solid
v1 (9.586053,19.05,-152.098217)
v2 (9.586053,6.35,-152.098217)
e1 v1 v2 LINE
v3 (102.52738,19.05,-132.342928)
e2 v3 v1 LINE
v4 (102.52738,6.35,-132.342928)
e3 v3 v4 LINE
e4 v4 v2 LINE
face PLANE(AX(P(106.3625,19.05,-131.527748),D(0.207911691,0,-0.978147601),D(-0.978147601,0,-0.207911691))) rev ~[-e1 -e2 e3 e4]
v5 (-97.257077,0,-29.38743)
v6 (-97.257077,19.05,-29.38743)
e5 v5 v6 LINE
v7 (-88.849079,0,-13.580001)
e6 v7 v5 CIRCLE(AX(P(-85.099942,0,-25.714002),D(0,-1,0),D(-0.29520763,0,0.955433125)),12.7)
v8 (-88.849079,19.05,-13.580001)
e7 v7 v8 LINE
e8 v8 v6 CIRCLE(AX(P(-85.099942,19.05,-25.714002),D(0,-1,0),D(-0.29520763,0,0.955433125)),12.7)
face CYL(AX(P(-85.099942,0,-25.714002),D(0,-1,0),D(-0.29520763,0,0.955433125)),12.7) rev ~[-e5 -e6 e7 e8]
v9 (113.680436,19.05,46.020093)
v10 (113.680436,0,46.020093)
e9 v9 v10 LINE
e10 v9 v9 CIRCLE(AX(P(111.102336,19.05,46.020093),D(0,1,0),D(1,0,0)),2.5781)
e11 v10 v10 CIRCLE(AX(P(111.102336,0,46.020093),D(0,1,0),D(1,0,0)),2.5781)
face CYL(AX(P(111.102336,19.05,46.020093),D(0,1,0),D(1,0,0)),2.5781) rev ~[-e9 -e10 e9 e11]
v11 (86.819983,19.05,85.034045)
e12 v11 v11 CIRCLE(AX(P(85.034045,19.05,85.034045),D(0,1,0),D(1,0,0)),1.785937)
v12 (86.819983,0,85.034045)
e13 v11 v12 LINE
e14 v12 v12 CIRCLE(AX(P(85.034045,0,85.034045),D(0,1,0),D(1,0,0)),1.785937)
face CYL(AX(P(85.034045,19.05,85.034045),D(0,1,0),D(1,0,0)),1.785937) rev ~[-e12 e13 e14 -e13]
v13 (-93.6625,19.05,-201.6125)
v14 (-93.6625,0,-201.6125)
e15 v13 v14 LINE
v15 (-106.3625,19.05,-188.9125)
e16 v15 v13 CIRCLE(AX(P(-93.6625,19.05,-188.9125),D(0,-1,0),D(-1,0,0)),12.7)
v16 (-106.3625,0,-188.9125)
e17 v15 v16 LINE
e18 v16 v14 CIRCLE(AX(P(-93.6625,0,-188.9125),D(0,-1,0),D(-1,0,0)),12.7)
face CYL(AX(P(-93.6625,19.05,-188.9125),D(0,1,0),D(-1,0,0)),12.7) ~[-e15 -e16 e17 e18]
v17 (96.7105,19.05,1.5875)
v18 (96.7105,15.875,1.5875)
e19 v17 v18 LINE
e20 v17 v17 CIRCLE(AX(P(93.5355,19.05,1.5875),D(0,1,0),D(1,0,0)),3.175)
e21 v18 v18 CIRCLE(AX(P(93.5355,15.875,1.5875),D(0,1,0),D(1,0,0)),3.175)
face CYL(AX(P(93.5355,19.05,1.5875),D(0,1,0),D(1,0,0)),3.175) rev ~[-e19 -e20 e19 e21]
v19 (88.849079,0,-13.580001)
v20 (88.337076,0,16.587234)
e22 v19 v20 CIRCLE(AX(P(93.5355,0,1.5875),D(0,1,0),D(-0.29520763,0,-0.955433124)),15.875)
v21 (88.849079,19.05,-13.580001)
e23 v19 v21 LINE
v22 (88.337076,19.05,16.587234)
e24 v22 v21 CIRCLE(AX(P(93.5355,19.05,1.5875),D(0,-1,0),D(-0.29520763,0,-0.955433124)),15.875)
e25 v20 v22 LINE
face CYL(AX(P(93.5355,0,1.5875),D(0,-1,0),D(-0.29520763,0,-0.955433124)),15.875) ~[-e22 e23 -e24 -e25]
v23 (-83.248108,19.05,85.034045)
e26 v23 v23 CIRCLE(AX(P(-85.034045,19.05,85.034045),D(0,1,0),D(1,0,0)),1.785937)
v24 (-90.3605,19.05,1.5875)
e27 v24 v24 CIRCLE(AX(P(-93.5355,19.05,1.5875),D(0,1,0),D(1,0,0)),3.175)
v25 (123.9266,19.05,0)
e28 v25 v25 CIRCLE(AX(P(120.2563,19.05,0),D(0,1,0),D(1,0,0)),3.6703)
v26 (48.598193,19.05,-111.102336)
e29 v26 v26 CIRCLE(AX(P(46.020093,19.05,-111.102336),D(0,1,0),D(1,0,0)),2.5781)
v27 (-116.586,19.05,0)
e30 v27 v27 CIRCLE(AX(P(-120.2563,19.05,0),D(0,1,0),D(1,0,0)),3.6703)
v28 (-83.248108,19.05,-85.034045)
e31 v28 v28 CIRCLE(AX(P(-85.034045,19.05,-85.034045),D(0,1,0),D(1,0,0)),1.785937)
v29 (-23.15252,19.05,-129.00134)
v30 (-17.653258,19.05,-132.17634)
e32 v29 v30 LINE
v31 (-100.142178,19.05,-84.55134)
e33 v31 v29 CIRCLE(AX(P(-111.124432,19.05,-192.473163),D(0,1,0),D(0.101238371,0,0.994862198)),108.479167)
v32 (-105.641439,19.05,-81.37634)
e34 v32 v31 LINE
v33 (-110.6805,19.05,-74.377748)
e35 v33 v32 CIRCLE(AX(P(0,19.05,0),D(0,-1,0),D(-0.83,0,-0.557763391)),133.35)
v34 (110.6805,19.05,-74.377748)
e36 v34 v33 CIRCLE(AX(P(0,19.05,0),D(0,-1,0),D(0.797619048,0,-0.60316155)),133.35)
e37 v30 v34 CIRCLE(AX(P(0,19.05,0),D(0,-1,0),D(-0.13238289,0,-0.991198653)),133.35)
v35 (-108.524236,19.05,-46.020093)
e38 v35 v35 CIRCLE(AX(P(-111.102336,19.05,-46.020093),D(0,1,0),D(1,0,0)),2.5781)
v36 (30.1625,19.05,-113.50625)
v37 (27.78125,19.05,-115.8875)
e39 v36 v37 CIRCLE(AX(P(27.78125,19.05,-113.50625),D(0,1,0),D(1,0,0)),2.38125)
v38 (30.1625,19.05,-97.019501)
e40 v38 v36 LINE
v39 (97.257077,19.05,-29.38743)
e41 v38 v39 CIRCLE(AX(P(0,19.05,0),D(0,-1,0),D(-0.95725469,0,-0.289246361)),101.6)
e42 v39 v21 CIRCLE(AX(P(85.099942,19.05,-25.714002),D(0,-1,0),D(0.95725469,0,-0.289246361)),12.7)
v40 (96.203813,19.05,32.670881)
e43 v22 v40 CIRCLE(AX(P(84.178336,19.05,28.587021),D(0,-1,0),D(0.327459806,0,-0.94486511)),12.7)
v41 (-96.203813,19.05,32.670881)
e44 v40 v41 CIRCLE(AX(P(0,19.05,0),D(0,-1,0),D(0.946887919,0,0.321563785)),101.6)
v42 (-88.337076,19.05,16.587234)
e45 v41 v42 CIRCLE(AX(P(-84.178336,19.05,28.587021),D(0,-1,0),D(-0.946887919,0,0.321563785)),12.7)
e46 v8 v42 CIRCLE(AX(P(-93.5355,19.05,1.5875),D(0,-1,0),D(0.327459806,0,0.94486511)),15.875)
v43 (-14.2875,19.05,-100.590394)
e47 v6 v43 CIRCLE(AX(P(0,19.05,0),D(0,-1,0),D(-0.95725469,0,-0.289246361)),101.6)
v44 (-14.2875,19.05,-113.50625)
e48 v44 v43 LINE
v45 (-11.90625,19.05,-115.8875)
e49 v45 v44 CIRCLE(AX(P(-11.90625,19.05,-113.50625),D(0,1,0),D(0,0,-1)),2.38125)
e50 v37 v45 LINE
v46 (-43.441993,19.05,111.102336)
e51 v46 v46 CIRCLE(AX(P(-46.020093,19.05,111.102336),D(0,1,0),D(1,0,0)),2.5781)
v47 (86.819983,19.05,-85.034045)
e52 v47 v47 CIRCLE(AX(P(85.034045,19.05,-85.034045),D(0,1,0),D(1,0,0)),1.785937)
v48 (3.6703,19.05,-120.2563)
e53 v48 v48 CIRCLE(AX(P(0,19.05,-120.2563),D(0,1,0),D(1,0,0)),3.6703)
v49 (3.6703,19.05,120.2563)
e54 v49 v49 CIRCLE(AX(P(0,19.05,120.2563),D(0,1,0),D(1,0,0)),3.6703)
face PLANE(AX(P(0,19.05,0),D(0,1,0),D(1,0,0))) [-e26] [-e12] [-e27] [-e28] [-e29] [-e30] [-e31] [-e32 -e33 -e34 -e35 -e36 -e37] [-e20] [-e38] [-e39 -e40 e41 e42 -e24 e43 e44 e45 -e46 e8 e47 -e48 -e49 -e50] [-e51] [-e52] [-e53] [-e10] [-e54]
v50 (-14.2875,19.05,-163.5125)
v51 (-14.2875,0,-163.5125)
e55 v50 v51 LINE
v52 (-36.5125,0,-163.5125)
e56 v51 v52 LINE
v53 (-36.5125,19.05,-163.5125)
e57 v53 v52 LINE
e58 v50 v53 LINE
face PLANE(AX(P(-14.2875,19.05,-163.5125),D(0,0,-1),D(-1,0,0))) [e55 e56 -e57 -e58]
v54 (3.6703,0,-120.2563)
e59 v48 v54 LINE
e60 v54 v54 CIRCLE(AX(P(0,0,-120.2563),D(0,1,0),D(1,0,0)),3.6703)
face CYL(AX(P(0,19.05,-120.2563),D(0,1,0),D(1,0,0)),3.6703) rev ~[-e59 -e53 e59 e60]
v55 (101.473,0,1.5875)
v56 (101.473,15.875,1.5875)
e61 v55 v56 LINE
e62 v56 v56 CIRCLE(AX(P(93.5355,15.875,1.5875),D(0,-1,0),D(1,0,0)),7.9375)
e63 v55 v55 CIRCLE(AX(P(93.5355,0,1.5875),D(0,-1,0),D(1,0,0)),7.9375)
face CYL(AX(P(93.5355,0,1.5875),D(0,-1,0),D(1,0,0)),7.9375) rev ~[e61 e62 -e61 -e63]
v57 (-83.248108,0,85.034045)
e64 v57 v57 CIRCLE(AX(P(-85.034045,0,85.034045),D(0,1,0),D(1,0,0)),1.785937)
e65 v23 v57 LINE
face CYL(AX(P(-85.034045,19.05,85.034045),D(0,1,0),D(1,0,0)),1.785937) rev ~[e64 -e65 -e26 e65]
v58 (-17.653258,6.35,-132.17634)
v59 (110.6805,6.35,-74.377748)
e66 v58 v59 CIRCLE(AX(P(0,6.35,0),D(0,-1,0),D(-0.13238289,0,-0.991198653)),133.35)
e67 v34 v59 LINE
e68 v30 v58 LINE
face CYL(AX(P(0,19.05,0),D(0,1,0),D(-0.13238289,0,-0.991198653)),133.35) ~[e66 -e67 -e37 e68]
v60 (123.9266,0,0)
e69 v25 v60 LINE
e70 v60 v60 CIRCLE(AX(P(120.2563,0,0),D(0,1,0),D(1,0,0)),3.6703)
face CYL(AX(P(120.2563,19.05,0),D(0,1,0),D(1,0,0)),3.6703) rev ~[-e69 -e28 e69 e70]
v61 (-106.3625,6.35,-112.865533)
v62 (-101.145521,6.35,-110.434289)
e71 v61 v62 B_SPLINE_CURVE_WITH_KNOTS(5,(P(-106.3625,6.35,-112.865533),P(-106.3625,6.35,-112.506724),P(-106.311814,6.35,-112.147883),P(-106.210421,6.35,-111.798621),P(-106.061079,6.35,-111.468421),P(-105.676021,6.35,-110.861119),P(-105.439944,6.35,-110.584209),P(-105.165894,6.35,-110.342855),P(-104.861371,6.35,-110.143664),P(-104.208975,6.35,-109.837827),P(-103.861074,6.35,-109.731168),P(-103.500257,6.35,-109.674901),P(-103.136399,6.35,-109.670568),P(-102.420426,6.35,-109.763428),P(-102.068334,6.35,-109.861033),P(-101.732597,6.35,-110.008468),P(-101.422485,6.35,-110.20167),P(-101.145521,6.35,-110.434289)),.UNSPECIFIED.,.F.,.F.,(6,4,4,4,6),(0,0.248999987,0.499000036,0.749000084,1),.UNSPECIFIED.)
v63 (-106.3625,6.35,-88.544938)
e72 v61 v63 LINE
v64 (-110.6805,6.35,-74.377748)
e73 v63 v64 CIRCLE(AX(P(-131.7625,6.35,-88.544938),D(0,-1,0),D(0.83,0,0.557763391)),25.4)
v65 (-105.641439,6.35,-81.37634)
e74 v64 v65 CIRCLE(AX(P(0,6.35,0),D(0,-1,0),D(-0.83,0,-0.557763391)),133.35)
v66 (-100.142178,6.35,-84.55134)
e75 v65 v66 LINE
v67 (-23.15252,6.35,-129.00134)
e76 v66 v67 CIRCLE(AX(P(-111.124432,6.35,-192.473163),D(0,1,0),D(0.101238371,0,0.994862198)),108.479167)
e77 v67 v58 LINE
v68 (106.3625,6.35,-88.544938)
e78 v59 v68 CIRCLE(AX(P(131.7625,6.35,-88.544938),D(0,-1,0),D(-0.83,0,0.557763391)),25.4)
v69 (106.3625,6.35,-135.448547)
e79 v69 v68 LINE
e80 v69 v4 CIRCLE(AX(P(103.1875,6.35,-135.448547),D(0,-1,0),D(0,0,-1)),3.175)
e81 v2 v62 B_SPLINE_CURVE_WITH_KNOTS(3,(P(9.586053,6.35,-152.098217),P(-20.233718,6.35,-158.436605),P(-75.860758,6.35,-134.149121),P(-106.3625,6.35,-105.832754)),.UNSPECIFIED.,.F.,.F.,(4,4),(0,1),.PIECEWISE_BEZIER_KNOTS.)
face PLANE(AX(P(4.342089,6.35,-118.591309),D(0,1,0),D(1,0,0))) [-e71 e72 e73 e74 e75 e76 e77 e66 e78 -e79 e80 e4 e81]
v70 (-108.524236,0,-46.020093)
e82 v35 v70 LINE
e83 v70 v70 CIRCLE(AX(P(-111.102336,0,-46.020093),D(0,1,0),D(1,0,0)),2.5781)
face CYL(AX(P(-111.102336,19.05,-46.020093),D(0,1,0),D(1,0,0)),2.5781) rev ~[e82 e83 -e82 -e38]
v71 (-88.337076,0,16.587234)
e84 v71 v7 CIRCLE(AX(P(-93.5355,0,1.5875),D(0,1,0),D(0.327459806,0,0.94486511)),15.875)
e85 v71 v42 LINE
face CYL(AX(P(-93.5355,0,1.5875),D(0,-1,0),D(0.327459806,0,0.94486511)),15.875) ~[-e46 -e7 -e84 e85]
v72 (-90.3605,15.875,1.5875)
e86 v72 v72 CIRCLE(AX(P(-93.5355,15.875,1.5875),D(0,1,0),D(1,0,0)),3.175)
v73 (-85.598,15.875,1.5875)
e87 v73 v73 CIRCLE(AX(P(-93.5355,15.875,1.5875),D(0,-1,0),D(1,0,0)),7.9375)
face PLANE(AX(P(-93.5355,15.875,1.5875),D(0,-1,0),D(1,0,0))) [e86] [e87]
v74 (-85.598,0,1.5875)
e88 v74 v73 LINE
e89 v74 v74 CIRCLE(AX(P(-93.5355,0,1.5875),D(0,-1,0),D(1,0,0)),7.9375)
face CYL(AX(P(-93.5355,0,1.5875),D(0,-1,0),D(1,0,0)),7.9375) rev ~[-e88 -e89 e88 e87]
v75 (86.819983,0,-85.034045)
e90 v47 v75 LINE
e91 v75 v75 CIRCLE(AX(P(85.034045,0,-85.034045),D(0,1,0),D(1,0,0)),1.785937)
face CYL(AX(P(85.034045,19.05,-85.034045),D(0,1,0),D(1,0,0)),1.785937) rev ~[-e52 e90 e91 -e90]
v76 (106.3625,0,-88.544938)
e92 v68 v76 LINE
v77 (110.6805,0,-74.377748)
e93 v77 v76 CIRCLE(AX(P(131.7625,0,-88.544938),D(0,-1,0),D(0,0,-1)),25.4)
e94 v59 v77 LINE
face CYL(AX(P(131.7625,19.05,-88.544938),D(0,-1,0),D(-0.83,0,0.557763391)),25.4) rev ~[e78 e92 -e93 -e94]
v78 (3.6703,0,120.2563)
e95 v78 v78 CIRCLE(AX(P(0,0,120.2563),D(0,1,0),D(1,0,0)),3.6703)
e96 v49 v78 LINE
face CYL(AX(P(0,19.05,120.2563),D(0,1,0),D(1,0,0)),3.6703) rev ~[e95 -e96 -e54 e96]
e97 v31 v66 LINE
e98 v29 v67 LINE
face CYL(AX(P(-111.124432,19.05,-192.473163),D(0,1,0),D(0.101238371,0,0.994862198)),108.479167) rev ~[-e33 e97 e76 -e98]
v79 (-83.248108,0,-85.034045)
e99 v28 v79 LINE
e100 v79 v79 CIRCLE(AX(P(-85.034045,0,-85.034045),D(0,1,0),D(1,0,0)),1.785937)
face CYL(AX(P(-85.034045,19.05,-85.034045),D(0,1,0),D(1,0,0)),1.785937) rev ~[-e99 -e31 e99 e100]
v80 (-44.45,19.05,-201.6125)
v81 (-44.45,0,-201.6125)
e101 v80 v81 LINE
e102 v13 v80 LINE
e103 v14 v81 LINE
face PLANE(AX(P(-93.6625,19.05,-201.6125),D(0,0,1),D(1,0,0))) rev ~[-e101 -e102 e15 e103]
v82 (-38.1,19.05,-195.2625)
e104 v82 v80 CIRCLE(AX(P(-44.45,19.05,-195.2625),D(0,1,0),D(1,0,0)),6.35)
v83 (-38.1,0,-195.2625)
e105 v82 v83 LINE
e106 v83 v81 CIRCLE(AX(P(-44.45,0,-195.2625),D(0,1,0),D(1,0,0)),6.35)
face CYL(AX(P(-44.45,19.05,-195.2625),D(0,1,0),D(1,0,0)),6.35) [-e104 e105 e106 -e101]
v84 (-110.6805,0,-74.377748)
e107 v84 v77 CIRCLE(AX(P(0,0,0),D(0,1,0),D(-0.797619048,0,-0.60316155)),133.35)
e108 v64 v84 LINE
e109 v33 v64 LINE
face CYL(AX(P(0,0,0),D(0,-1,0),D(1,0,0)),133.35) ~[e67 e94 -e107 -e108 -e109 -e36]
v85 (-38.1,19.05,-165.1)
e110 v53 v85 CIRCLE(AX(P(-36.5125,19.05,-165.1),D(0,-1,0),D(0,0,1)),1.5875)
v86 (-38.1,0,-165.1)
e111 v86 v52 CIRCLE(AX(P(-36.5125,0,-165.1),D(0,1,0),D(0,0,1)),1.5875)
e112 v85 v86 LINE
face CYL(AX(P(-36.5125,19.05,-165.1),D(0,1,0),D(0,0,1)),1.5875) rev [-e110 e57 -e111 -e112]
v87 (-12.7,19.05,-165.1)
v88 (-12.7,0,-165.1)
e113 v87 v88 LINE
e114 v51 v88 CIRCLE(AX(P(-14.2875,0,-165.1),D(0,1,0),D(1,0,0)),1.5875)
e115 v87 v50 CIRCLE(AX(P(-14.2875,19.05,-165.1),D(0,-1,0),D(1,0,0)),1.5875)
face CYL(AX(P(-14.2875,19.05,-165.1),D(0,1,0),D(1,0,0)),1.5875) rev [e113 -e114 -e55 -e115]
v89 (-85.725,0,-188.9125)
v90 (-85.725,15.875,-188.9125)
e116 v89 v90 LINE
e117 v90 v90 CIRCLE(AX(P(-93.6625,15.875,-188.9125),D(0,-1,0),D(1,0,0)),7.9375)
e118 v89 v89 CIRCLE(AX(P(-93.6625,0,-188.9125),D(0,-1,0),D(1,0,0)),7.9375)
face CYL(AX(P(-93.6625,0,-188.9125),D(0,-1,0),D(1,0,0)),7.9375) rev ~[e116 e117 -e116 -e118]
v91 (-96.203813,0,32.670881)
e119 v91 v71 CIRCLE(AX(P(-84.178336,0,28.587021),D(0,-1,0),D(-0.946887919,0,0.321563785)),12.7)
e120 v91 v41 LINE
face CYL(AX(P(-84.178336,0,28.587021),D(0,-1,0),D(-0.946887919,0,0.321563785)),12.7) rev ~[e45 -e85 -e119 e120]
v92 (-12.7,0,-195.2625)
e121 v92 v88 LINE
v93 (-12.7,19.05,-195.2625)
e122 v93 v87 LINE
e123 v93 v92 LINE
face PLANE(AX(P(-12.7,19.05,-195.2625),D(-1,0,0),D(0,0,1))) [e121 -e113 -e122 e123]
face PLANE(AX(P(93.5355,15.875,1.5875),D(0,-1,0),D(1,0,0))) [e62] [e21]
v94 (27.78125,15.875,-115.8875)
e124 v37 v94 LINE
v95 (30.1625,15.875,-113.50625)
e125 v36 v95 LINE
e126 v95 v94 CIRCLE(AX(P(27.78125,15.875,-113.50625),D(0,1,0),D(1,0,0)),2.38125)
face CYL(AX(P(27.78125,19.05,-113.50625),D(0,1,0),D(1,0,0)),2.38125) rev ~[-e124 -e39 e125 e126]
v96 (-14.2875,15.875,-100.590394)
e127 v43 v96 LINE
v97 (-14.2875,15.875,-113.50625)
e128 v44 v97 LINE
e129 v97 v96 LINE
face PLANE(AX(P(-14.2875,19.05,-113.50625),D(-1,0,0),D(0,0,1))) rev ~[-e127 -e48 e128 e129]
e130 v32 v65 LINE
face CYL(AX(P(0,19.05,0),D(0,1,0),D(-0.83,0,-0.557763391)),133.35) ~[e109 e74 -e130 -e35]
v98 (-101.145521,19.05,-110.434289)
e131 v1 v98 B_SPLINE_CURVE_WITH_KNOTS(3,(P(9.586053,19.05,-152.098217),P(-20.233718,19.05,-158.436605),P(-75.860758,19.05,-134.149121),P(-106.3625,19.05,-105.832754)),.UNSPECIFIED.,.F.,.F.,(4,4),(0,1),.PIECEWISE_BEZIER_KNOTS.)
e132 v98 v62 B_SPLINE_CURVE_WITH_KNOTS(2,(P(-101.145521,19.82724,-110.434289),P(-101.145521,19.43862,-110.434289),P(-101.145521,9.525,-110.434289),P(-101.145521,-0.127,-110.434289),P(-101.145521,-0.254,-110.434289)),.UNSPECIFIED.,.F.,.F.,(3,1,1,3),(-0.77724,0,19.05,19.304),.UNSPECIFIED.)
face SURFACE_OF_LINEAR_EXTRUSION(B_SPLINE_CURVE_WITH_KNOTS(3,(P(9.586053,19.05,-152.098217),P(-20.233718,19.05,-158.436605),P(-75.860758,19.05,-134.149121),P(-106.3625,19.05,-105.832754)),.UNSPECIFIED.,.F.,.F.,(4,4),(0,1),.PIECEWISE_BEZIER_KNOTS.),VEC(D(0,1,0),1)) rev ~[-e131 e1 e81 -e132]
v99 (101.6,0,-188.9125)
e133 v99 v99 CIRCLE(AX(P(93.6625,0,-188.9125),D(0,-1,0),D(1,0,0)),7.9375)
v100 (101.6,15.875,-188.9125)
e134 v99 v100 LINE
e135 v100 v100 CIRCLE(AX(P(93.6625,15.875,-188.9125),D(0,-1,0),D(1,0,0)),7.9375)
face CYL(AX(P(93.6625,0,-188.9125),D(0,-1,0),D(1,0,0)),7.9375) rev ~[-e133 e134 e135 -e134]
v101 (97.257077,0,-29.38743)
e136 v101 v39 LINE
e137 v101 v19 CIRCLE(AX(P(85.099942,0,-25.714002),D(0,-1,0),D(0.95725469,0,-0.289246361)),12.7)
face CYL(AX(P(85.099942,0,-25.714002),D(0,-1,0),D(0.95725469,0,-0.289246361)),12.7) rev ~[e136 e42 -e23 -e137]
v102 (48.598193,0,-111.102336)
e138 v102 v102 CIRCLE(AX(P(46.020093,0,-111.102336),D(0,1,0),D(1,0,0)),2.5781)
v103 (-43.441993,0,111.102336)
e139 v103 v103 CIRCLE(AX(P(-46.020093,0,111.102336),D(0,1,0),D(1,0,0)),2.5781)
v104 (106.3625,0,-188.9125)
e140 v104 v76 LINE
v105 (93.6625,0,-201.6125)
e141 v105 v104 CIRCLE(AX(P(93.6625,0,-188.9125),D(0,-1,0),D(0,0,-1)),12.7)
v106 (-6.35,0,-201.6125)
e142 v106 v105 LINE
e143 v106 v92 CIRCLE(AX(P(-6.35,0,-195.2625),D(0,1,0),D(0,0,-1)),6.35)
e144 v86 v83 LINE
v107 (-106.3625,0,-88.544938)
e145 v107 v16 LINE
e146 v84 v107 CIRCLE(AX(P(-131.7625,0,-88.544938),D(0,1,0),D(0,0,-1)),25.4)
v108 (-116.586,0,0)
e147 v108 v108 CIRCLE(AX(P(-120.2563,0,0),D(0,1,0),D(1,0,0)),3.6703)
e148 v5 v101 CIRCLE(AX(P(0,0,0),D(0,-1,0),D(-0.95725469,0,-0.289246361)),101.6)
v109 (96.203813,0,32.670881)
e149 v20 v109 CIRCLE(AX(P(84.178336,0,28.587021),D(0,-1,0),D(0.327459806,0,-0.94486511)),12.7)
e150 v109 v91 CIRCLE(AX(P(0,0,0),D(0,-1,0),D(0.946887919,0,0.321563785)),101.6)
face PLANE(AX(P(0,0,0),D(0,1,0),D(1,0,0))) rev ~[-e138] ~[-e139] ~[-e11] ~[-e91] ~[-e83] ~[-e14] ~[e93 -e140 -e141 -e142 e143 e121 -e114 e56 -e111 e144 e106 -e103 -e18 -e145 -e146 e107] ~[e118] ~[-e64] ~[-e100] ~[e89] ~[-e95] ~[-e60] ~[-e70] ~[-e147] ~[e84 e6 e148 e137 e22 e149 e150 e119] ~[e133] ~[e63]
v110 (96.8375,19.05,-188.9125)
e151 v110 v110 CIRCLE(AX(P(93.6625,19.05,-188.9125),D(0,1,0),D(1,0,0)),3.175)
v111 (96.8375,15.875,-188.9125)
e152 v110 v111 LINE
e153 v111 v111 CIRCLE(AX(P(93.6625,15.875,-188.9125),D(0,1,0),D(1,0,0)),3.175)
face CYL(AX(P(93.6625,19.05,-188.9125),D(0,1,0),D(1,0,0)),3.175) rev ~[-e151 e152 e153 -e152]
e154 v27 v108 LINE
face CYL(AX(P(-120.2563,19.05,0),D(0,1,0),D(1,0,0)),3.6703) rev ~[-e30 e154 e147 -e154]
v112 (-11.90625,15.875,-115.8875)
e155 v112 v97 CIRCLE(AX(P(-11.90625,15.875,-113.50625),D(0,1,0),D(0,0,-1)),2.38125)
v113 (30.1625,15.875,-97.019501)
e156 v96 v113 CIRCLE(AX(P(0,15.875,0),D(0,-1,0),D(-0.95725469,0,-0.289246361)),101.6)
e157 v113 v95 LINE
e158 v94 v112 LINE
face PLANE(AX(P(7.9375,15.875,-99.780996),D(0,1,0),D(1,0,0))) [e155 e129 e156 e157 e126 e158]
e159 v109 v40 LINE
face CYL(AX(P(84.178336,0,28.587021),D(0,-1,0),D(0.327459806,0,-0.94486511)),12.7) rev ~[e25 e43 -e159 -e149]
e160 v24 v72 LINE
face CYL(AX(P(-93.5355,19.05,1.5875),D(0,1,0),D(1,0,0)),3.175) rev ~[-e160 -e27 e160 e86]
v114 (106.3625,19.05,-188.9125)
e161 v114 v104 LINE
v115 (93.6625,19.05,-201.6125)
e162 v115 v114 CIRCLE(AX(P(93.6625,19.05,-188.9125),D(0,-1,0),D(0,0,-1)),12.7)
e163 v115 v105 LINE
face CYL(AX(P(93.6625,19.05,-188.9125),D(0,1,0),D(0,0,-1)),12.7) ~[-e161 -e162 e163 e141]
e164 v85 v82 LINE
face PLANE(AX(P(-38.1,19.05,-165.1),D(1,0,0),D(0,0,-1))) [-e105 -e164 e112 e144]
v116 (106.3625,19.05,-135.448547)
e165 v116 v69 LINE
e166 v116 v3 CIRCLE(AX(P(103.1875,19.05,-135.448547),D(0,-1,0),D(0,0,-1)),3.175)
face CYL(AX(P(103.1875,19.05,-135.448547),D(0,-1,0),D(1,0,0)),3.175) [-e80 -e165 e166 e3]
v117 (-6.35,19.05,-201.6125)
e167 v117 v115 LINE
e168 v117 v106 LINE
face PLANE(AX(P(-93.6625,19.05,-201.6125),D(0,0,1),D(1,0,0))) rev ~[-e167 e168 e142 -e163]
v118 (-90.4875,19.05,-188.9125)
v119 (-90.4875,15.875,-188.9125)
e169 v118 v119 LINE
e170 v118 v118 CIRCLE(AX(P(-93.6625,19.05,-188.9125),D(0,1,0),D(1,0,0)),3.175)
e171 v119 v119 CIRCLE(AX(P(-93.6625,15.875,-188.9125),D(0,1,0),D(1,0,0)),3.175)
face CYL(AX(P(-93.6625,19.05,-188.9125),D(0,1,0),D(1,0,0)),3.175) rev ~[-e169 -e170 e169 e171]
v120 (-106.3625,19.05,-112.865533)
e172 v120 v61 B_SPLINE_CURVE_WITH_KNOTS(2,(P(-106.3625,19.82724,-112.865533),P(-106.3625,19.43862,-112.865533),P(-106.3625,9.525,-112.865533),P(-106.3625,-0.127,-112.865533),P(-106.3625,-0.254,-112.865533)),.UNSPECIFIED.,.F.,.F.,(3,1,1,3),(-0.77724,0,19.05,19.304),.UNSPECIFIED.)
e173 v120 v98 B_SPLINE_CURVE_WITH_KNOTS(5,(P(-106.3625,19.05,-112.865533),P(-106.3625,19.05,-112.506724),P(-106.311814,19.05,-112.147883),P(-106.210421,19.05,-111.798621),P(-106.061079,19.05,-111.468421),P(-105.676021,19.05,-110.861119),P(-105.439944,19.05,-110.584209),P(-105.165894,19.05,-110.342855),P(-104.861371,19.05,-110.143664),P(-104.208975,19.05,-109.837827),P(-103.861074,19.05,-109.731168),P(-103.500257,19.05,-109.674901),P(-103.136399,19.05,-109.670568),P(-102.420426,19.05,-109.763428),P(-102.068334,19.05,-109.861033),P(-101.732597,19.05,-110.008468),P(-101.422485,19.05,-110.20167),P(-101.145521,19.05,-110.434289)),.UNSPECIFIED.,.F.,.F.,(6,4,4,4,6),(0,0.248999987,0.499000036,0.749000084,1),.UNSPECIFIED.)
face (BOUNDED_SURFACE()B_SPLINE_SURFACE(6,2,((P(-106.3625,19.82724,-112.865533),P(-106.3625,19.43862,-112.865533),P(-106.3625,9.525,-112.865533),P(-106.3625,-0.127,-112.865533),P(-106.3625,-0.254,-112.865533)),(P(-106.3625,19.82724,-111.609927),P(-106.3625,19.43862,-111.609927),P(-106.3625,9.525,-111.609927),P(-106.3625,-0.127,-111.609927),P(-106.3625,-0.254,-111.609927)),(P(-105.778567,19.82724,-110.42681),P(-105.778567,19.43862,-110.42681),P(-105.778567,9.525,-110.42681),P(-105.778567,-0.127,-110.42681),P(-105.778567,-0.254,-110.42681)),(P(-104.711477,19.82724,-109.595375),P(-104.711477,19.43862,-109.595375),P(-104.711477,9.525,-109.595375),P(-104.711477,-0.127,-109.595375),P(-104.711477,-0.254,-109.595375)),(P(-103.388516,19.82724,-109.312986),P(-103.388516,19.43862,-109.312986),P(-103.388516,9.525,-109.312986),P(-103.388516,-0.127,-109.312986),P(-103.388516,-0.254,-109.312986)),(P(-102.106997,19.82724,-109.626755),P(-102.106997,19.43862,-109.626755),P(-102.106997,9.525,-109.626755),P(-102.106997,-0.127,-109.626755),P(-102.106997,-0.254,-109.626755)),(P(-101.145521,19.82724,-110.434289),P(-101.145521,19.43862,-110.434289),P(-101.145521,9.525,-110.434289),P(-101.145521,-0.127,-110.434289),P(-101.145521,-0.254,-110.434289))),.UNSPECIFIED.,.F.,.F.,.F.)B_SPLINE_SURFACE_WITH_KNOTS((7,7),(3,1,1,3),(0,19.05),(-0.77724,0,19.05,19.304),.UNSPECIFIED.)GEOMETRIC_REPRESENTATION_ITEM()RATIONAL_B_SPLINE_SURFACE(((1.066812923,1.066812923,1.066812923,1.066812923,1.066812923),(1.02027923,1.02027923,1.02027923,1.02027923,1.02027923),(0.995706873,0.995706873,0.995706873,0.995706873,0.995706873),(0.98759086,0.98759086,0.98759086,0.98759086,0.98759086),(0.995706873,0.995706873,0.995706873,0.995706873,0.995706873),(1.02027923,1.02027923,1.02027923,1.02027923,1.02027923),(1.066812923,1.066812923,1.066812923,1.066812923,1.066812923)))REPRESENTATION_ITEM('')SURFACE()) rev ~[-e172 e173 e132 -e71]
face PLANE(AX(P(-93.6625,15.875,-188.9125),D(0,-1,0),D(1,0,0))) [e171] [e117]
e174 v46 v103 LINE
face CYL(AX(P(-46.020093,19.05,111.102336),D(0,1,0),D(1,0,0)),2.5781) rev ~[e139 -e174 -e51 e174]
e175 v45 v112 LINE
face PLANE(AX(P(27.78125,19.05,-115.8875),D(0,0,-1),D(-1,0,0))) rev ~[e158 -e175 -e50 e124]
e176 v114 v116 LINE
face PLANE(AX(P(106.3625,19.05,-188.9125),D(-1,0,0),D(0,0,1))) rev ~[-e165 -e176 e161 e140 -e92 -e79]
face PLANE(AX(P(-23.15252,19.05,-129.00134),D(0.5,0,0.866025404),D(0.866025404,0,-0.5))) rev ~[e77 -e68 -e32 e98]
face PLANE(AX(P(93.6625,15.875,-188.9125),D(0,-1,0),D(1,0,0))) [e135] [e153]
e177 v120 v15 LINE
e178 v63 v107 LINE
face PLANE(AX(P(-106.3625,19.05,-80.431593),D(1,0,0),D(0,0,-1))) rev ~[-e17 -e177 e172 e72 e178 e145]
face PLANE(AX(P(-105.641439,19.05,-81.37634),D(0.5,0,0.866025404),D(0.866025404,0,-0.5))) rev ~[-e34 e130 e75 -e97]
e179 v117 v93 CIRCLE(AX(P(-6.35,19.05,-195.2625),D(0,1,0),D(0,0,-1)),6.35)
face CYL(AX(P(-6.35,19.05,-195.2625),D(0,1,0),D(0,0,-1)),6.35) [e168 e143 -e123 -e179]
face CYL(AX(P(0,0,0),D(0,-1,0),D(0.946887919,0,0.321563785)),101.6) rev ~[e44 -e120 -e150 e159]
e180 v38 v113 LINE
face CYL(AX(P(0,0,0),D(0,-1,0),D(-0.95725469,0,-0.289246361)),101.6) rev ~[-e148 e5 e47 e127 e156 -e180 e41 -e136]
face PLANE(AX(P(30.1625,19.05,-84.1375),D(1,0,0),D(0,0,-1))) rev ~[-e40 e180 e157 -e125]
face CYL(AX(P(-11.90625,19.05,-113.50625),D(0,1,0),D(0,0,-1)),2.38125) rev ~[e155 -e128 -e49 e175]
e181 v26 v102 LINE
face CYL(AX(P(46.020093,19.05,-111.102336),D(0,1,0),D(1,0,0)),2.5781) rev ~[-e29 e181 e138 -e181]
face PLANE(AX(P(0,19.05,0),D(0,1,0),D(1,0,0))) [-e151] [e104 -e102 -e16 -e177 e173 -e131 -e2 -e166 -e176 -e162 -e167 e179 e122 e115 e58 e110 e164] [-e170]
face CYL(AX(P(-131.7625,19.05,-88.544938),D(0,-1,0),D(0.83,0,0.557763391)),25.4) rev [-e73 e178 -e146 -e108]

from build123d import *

# Parameters (mm, degrees)
SKETCH1_R           = 133.35
BOSS_EXTRUDE1_DEPTH = 19.05
SKETCH2_R           = 3.6703
SKETCH2_R_2         = 2.5781
SKETCH2_R_3         = 1.7859375
CUT_EXTRUDE1_DEPTH  = 20.05
BOSS_EXTRUDE2_DEPTH = 19.05
FILLET1_R           = 25.4
SKETCH4_R           = 3.175
CUT_EXTRUDE2_DEPTH  = 20.05
SKETCH5_R           = 7.9375
CUT_EXTRUDE3_DEPTH  = 15.875
CUT_EXTRUDE4_DEPTH  = 20.05
CUT_EXTRUDE5_DEPTH  = 12.7
FILLET2_R           = 3.175
CUT_EXTRUDE6_DEPTH  = 3.175


with BuildPart() as part:
    # Sketch1 → Boss-Extrude1 (new body)
    with BuildSketch(Plane(origin=(0, 0, 0), x_dir=(1, 0, 0), z_dir=(0, 1, 0))):
        Circle(SKETCH1_R)
    extrude(amount=BOSS_EXTRUDE1_DEPTH)

    # Sketch2 → Cut-Extrude1 (cut, through all)
    with BuildSketch(Plane(origin=(0, 19.05, 0), x_dir=(1, 0, 0), z_dir=(0, 1, 0))):
        with Locations((-120.2563, 0)):
            Circle(SKETCH2_R)
        with Locations((-111.10233558, 46.02009338)):
            Circle(SKETCH2_R_2)
        with Locations((120.2563, 0)):
            Circle(SKETCH2_R)
        with Locations((0, -120.2563)):
            Circle(SKETCH2_R)
        with Locations((0, 120.2563)):
            Circle(SKETCH2_R)
        with Locations((111.10233558, -46.02009338)):
            Circle(SKETCH2_R_2)
        with Locations((-46.02009338, -111.10233558)):
            Circle(SKETCH2_R_2)
        with Locations((46.02009338, 111.10233558)):
            Circle(SKETCH2_R_2)
        with Locations((-85.03404521, -85.03404521)):
            Circle(SKETCH2_R_3)
        with Locations((85.03404521, 85.03404521)):
            Circle(SKETCH2_R_3)
        with Locations((-85.03404521, 85.03404521)):
            Circle(SKETCH2_R_3)
        with Locations((85.03404521, -85.03404521)):
            Circle(SKETCH2_R_3)
    extrude(amount=-CUT_EXTRUDE1_DEPTH, mode=Mode.SUBTRACT)

    # Sketch3 → Boss-Extrude2 (add)
    with BuildSketch(Plane(origin=(0, 19.05, 0), x_dir=(1, 0, 0), z_dir=(0, 1, 0))):
        with BuildLine():
            Line((-106.3625, 80.431592635), (-106.3625, 188.9125))
            ThreePointArc((-106.3625, 188.9125), (-102.642756121, 197.892756121), (-93.6625, 201.6125))
            Line((-93.6625, 201.6125), (93.6625, 201.6125))
            ThreePointArc((93.6625, 201.6125), (102.642756121, 197.892756121), (106.3625, 188.9125))
            Line((106.3625, 188.9125), (106.3625, 80.431592635))
            ThreePointArc((106.3625, 80.431592635), (0, 133.35), (-106.3625, 80.431592635))
        make_face()
    extrude(amount=-BOSS_EXTRUDE2_DEPTH)

    # Fillet1
    fillet1_edges = [part.edges().sort_by_distance(p)[0] for p in [
        (106.3625, 9.525, -80.431592635),
        (-106.3625, 9.525, -80.431592635),
    ]]
    fillet(fillet1_edges, radius=FILLET1_R)

    # Sketch4 → Cut-Extrude2 (cut, through all)
    with BuildSketch(Plane(origin=(0, 19.05, 0), x_dir=(1, 0, 0), z_dir=(0, 1, 0))):
        with Locations((-93.6625, 188.9125)):
            Circle(SKETCH4_R)
        with Locations((93.6625, 188.9125)):
            Circle(SKETCH4_R)
        with Locations((93.5355, -1.5875)):
            Circle(SKETCH4_R)
        with Locations((-93.5355, -1.5875)):
            Circle(SKETCH4_R)
        with BuildLine():
            Line((-38.1, 165.1), (-38.1, 195.2625))
            ThreePointArc((-38.1, 195.2625), (-39.959871939, 199.752628061), (-44.45, 201.6125))
            Line((-44.45, 201.6125), (-6.35, 201.6125))
            ThreePointArc((-6.35, 201.6125), (-10.840128061, 199.752628061), (-12.7, 195.2625))
            Line((-12.7, 195.2625), (-12.7, 165.1))
            ThreePointArc((-12.7, 165.1), (-13.164967985, 163.977467985), (-14.2875, 163.5125))
            Line((-14.2875, 163.5125), (-36.5125, 163.5125))
            ThreePointArc((-36.5125, 163.5125), (-37.635032015, 163.977467985), (-38.1, 165.1))
        make_face()
    extrude(amount=-CUT_EXTRUDE2_DEPTH, mode=Mode.SUBTRACT)

    # Sketch5 → Cut-Extrude3 (cut)
    with BuildSketch(Plane.XZ):
        with Locations((-93.5355, 1.5875)):
            Circle(SKETCH5_R)
        with Locations((-93.6625, -188.9125)):
            Circle(SKETCH5_R)
        with Locations((93.6625, -188.9125)):
            Circle(SKETCH5_R)
        with Locations((93.5355, 1.5875)):
            Circle(SKETCH5_R)
    extrude(amount=-CUT_EXTRUDE3_DEPTH, mode=Mode.SUBTRACT)

    # Sketch6 → Cut-Extrude4 (cut, through all)
    with BuildSketch(Plane.XZ):
        with BuildLine():
            ThreePointArc((-97.25707655, -29.387430322), (0, -101.6), (97.25707655, -29.387430322))
            ThreePointArc((97.25707655, -29.387430322), (96.312482934, -19.750032603), (88.849078878, -13.580000851))
            ThreePointArc((88.849078878, -13.580000851), (77.662785938, 1.318105668), (88.337075578, 16.587233615))
            ThreePointArc((88.337075578, 16.587233615), (95.586803849, 23.006979086), (96.203812617, 32.67088058))
            ThreePointArc((96.203812617, 32.67088058), (0, 101.6), (-96.203812617, 32.67088058))
            ThreePointArc((-96.203812617, 32.67088058), (-95.586803849, 23.006979086), (-88.337075578, 16.587233615))
            ThreePointArc((-88.337075578, 16.587233615), (-77.662785938, 1.318105668), (-88.849078878, -13.580000851))
            ThreePointArc((-88.849078878, -13.580000851), (-96.312482934, -19.750032603), (-97.25707655, -29.387430322))
        make_face()
    extrude(amount=-CUT_EXTRUDE4_DEPTH, mode=Mode.SUBTRACT)

    # Sketch7 → Cut-Extrude5 (cut)
    with BuildSketch(Plane(origin=(0, 19.05, 0), x_dir=(1, 0, 0), z_dir=(0, 1, 0))):
        with BuildLine():
            Line((106.3625, 131.527748149), (9.586053414, 152.098216886))
            add(Edge.make_bspline(
                [(9.586053414, 152.098216886), (-20.233717631, 158.436604889), (-75.860757578, 134.149121206), (-106.3625, 105.832753729)],
                knots=[0, 0, 0, 0, 1, 1, 1, 1], degree=3))
            Line((-106.3625, 105.832753729), (-110.6805, 74.377748149))
            ThreePointArc((-110.6805, 74.377748149), (-108.217560682, 77.917790395), (-105.641439401, 81.376340427))
            Line((-105.641439401, 81.376340427), (-100.142178087, 84.551340427))
            ThreePointArc((-100.142178087, 84.551340427), (-56.884848889, 98.527448456), (-23.15251969, 129.001340427))
            Line((-23.15251969, 129.001340427), (-17.653258376, 132.176340427))
            ThreePointArc((-17.653258376, 132.176340427), (54.760261489, 121.58756623), (110.6805, 74.377748149))
            Line((110.6805, 74.377748149), (106.3625, 131.527748149))
        make_face()
    extrude(amount=-CUT_EXTRUDE5_DEPTH, mode=Mode.SUBTRACT)

    # Fillet2
    fillet2_edges = [part.edges().sort_by_distance(p)[0] for p in [
        (-106.3625, 12.7, -105.832753729),
        (106.3625, 12.7, -131.527748149),
    ]]
    fillet(fillet2_edges, radius=FILLET2_R)

    # Sketch8 → Cut-Extrude6 (cut)
    with BuildSketch(Plane(origin=(0, 19.05, 0), x_dir=(1, 0, 0), z_dir=(0, 1, 0))):
        with BuildLine():
            Line((27.78125, 115.8875), (-11.90625, 115.8875))
            ThreePointArc((-11.90625, 115.8875), (-13.590048023, 115.190048023), (-14.2875, 113.50625))
            Line((-14.2875, 113.50625), (-14.2875, 84.1375))
            Line((-14.2875, 84.1375), (30.1625, 84.1375))
            Line((30.1625, 84.1375), (30.1625, 113.50625))
            ThreePointArc((30.1625, 113.50625), (29.465048023, 115.190048023), (27.78125, 115.8875))
        make_face()
    extrude(amount=-CUT_EXTRUDE6_DEPTH, mode=Mode.SUBTRACT)


solid = part.part
